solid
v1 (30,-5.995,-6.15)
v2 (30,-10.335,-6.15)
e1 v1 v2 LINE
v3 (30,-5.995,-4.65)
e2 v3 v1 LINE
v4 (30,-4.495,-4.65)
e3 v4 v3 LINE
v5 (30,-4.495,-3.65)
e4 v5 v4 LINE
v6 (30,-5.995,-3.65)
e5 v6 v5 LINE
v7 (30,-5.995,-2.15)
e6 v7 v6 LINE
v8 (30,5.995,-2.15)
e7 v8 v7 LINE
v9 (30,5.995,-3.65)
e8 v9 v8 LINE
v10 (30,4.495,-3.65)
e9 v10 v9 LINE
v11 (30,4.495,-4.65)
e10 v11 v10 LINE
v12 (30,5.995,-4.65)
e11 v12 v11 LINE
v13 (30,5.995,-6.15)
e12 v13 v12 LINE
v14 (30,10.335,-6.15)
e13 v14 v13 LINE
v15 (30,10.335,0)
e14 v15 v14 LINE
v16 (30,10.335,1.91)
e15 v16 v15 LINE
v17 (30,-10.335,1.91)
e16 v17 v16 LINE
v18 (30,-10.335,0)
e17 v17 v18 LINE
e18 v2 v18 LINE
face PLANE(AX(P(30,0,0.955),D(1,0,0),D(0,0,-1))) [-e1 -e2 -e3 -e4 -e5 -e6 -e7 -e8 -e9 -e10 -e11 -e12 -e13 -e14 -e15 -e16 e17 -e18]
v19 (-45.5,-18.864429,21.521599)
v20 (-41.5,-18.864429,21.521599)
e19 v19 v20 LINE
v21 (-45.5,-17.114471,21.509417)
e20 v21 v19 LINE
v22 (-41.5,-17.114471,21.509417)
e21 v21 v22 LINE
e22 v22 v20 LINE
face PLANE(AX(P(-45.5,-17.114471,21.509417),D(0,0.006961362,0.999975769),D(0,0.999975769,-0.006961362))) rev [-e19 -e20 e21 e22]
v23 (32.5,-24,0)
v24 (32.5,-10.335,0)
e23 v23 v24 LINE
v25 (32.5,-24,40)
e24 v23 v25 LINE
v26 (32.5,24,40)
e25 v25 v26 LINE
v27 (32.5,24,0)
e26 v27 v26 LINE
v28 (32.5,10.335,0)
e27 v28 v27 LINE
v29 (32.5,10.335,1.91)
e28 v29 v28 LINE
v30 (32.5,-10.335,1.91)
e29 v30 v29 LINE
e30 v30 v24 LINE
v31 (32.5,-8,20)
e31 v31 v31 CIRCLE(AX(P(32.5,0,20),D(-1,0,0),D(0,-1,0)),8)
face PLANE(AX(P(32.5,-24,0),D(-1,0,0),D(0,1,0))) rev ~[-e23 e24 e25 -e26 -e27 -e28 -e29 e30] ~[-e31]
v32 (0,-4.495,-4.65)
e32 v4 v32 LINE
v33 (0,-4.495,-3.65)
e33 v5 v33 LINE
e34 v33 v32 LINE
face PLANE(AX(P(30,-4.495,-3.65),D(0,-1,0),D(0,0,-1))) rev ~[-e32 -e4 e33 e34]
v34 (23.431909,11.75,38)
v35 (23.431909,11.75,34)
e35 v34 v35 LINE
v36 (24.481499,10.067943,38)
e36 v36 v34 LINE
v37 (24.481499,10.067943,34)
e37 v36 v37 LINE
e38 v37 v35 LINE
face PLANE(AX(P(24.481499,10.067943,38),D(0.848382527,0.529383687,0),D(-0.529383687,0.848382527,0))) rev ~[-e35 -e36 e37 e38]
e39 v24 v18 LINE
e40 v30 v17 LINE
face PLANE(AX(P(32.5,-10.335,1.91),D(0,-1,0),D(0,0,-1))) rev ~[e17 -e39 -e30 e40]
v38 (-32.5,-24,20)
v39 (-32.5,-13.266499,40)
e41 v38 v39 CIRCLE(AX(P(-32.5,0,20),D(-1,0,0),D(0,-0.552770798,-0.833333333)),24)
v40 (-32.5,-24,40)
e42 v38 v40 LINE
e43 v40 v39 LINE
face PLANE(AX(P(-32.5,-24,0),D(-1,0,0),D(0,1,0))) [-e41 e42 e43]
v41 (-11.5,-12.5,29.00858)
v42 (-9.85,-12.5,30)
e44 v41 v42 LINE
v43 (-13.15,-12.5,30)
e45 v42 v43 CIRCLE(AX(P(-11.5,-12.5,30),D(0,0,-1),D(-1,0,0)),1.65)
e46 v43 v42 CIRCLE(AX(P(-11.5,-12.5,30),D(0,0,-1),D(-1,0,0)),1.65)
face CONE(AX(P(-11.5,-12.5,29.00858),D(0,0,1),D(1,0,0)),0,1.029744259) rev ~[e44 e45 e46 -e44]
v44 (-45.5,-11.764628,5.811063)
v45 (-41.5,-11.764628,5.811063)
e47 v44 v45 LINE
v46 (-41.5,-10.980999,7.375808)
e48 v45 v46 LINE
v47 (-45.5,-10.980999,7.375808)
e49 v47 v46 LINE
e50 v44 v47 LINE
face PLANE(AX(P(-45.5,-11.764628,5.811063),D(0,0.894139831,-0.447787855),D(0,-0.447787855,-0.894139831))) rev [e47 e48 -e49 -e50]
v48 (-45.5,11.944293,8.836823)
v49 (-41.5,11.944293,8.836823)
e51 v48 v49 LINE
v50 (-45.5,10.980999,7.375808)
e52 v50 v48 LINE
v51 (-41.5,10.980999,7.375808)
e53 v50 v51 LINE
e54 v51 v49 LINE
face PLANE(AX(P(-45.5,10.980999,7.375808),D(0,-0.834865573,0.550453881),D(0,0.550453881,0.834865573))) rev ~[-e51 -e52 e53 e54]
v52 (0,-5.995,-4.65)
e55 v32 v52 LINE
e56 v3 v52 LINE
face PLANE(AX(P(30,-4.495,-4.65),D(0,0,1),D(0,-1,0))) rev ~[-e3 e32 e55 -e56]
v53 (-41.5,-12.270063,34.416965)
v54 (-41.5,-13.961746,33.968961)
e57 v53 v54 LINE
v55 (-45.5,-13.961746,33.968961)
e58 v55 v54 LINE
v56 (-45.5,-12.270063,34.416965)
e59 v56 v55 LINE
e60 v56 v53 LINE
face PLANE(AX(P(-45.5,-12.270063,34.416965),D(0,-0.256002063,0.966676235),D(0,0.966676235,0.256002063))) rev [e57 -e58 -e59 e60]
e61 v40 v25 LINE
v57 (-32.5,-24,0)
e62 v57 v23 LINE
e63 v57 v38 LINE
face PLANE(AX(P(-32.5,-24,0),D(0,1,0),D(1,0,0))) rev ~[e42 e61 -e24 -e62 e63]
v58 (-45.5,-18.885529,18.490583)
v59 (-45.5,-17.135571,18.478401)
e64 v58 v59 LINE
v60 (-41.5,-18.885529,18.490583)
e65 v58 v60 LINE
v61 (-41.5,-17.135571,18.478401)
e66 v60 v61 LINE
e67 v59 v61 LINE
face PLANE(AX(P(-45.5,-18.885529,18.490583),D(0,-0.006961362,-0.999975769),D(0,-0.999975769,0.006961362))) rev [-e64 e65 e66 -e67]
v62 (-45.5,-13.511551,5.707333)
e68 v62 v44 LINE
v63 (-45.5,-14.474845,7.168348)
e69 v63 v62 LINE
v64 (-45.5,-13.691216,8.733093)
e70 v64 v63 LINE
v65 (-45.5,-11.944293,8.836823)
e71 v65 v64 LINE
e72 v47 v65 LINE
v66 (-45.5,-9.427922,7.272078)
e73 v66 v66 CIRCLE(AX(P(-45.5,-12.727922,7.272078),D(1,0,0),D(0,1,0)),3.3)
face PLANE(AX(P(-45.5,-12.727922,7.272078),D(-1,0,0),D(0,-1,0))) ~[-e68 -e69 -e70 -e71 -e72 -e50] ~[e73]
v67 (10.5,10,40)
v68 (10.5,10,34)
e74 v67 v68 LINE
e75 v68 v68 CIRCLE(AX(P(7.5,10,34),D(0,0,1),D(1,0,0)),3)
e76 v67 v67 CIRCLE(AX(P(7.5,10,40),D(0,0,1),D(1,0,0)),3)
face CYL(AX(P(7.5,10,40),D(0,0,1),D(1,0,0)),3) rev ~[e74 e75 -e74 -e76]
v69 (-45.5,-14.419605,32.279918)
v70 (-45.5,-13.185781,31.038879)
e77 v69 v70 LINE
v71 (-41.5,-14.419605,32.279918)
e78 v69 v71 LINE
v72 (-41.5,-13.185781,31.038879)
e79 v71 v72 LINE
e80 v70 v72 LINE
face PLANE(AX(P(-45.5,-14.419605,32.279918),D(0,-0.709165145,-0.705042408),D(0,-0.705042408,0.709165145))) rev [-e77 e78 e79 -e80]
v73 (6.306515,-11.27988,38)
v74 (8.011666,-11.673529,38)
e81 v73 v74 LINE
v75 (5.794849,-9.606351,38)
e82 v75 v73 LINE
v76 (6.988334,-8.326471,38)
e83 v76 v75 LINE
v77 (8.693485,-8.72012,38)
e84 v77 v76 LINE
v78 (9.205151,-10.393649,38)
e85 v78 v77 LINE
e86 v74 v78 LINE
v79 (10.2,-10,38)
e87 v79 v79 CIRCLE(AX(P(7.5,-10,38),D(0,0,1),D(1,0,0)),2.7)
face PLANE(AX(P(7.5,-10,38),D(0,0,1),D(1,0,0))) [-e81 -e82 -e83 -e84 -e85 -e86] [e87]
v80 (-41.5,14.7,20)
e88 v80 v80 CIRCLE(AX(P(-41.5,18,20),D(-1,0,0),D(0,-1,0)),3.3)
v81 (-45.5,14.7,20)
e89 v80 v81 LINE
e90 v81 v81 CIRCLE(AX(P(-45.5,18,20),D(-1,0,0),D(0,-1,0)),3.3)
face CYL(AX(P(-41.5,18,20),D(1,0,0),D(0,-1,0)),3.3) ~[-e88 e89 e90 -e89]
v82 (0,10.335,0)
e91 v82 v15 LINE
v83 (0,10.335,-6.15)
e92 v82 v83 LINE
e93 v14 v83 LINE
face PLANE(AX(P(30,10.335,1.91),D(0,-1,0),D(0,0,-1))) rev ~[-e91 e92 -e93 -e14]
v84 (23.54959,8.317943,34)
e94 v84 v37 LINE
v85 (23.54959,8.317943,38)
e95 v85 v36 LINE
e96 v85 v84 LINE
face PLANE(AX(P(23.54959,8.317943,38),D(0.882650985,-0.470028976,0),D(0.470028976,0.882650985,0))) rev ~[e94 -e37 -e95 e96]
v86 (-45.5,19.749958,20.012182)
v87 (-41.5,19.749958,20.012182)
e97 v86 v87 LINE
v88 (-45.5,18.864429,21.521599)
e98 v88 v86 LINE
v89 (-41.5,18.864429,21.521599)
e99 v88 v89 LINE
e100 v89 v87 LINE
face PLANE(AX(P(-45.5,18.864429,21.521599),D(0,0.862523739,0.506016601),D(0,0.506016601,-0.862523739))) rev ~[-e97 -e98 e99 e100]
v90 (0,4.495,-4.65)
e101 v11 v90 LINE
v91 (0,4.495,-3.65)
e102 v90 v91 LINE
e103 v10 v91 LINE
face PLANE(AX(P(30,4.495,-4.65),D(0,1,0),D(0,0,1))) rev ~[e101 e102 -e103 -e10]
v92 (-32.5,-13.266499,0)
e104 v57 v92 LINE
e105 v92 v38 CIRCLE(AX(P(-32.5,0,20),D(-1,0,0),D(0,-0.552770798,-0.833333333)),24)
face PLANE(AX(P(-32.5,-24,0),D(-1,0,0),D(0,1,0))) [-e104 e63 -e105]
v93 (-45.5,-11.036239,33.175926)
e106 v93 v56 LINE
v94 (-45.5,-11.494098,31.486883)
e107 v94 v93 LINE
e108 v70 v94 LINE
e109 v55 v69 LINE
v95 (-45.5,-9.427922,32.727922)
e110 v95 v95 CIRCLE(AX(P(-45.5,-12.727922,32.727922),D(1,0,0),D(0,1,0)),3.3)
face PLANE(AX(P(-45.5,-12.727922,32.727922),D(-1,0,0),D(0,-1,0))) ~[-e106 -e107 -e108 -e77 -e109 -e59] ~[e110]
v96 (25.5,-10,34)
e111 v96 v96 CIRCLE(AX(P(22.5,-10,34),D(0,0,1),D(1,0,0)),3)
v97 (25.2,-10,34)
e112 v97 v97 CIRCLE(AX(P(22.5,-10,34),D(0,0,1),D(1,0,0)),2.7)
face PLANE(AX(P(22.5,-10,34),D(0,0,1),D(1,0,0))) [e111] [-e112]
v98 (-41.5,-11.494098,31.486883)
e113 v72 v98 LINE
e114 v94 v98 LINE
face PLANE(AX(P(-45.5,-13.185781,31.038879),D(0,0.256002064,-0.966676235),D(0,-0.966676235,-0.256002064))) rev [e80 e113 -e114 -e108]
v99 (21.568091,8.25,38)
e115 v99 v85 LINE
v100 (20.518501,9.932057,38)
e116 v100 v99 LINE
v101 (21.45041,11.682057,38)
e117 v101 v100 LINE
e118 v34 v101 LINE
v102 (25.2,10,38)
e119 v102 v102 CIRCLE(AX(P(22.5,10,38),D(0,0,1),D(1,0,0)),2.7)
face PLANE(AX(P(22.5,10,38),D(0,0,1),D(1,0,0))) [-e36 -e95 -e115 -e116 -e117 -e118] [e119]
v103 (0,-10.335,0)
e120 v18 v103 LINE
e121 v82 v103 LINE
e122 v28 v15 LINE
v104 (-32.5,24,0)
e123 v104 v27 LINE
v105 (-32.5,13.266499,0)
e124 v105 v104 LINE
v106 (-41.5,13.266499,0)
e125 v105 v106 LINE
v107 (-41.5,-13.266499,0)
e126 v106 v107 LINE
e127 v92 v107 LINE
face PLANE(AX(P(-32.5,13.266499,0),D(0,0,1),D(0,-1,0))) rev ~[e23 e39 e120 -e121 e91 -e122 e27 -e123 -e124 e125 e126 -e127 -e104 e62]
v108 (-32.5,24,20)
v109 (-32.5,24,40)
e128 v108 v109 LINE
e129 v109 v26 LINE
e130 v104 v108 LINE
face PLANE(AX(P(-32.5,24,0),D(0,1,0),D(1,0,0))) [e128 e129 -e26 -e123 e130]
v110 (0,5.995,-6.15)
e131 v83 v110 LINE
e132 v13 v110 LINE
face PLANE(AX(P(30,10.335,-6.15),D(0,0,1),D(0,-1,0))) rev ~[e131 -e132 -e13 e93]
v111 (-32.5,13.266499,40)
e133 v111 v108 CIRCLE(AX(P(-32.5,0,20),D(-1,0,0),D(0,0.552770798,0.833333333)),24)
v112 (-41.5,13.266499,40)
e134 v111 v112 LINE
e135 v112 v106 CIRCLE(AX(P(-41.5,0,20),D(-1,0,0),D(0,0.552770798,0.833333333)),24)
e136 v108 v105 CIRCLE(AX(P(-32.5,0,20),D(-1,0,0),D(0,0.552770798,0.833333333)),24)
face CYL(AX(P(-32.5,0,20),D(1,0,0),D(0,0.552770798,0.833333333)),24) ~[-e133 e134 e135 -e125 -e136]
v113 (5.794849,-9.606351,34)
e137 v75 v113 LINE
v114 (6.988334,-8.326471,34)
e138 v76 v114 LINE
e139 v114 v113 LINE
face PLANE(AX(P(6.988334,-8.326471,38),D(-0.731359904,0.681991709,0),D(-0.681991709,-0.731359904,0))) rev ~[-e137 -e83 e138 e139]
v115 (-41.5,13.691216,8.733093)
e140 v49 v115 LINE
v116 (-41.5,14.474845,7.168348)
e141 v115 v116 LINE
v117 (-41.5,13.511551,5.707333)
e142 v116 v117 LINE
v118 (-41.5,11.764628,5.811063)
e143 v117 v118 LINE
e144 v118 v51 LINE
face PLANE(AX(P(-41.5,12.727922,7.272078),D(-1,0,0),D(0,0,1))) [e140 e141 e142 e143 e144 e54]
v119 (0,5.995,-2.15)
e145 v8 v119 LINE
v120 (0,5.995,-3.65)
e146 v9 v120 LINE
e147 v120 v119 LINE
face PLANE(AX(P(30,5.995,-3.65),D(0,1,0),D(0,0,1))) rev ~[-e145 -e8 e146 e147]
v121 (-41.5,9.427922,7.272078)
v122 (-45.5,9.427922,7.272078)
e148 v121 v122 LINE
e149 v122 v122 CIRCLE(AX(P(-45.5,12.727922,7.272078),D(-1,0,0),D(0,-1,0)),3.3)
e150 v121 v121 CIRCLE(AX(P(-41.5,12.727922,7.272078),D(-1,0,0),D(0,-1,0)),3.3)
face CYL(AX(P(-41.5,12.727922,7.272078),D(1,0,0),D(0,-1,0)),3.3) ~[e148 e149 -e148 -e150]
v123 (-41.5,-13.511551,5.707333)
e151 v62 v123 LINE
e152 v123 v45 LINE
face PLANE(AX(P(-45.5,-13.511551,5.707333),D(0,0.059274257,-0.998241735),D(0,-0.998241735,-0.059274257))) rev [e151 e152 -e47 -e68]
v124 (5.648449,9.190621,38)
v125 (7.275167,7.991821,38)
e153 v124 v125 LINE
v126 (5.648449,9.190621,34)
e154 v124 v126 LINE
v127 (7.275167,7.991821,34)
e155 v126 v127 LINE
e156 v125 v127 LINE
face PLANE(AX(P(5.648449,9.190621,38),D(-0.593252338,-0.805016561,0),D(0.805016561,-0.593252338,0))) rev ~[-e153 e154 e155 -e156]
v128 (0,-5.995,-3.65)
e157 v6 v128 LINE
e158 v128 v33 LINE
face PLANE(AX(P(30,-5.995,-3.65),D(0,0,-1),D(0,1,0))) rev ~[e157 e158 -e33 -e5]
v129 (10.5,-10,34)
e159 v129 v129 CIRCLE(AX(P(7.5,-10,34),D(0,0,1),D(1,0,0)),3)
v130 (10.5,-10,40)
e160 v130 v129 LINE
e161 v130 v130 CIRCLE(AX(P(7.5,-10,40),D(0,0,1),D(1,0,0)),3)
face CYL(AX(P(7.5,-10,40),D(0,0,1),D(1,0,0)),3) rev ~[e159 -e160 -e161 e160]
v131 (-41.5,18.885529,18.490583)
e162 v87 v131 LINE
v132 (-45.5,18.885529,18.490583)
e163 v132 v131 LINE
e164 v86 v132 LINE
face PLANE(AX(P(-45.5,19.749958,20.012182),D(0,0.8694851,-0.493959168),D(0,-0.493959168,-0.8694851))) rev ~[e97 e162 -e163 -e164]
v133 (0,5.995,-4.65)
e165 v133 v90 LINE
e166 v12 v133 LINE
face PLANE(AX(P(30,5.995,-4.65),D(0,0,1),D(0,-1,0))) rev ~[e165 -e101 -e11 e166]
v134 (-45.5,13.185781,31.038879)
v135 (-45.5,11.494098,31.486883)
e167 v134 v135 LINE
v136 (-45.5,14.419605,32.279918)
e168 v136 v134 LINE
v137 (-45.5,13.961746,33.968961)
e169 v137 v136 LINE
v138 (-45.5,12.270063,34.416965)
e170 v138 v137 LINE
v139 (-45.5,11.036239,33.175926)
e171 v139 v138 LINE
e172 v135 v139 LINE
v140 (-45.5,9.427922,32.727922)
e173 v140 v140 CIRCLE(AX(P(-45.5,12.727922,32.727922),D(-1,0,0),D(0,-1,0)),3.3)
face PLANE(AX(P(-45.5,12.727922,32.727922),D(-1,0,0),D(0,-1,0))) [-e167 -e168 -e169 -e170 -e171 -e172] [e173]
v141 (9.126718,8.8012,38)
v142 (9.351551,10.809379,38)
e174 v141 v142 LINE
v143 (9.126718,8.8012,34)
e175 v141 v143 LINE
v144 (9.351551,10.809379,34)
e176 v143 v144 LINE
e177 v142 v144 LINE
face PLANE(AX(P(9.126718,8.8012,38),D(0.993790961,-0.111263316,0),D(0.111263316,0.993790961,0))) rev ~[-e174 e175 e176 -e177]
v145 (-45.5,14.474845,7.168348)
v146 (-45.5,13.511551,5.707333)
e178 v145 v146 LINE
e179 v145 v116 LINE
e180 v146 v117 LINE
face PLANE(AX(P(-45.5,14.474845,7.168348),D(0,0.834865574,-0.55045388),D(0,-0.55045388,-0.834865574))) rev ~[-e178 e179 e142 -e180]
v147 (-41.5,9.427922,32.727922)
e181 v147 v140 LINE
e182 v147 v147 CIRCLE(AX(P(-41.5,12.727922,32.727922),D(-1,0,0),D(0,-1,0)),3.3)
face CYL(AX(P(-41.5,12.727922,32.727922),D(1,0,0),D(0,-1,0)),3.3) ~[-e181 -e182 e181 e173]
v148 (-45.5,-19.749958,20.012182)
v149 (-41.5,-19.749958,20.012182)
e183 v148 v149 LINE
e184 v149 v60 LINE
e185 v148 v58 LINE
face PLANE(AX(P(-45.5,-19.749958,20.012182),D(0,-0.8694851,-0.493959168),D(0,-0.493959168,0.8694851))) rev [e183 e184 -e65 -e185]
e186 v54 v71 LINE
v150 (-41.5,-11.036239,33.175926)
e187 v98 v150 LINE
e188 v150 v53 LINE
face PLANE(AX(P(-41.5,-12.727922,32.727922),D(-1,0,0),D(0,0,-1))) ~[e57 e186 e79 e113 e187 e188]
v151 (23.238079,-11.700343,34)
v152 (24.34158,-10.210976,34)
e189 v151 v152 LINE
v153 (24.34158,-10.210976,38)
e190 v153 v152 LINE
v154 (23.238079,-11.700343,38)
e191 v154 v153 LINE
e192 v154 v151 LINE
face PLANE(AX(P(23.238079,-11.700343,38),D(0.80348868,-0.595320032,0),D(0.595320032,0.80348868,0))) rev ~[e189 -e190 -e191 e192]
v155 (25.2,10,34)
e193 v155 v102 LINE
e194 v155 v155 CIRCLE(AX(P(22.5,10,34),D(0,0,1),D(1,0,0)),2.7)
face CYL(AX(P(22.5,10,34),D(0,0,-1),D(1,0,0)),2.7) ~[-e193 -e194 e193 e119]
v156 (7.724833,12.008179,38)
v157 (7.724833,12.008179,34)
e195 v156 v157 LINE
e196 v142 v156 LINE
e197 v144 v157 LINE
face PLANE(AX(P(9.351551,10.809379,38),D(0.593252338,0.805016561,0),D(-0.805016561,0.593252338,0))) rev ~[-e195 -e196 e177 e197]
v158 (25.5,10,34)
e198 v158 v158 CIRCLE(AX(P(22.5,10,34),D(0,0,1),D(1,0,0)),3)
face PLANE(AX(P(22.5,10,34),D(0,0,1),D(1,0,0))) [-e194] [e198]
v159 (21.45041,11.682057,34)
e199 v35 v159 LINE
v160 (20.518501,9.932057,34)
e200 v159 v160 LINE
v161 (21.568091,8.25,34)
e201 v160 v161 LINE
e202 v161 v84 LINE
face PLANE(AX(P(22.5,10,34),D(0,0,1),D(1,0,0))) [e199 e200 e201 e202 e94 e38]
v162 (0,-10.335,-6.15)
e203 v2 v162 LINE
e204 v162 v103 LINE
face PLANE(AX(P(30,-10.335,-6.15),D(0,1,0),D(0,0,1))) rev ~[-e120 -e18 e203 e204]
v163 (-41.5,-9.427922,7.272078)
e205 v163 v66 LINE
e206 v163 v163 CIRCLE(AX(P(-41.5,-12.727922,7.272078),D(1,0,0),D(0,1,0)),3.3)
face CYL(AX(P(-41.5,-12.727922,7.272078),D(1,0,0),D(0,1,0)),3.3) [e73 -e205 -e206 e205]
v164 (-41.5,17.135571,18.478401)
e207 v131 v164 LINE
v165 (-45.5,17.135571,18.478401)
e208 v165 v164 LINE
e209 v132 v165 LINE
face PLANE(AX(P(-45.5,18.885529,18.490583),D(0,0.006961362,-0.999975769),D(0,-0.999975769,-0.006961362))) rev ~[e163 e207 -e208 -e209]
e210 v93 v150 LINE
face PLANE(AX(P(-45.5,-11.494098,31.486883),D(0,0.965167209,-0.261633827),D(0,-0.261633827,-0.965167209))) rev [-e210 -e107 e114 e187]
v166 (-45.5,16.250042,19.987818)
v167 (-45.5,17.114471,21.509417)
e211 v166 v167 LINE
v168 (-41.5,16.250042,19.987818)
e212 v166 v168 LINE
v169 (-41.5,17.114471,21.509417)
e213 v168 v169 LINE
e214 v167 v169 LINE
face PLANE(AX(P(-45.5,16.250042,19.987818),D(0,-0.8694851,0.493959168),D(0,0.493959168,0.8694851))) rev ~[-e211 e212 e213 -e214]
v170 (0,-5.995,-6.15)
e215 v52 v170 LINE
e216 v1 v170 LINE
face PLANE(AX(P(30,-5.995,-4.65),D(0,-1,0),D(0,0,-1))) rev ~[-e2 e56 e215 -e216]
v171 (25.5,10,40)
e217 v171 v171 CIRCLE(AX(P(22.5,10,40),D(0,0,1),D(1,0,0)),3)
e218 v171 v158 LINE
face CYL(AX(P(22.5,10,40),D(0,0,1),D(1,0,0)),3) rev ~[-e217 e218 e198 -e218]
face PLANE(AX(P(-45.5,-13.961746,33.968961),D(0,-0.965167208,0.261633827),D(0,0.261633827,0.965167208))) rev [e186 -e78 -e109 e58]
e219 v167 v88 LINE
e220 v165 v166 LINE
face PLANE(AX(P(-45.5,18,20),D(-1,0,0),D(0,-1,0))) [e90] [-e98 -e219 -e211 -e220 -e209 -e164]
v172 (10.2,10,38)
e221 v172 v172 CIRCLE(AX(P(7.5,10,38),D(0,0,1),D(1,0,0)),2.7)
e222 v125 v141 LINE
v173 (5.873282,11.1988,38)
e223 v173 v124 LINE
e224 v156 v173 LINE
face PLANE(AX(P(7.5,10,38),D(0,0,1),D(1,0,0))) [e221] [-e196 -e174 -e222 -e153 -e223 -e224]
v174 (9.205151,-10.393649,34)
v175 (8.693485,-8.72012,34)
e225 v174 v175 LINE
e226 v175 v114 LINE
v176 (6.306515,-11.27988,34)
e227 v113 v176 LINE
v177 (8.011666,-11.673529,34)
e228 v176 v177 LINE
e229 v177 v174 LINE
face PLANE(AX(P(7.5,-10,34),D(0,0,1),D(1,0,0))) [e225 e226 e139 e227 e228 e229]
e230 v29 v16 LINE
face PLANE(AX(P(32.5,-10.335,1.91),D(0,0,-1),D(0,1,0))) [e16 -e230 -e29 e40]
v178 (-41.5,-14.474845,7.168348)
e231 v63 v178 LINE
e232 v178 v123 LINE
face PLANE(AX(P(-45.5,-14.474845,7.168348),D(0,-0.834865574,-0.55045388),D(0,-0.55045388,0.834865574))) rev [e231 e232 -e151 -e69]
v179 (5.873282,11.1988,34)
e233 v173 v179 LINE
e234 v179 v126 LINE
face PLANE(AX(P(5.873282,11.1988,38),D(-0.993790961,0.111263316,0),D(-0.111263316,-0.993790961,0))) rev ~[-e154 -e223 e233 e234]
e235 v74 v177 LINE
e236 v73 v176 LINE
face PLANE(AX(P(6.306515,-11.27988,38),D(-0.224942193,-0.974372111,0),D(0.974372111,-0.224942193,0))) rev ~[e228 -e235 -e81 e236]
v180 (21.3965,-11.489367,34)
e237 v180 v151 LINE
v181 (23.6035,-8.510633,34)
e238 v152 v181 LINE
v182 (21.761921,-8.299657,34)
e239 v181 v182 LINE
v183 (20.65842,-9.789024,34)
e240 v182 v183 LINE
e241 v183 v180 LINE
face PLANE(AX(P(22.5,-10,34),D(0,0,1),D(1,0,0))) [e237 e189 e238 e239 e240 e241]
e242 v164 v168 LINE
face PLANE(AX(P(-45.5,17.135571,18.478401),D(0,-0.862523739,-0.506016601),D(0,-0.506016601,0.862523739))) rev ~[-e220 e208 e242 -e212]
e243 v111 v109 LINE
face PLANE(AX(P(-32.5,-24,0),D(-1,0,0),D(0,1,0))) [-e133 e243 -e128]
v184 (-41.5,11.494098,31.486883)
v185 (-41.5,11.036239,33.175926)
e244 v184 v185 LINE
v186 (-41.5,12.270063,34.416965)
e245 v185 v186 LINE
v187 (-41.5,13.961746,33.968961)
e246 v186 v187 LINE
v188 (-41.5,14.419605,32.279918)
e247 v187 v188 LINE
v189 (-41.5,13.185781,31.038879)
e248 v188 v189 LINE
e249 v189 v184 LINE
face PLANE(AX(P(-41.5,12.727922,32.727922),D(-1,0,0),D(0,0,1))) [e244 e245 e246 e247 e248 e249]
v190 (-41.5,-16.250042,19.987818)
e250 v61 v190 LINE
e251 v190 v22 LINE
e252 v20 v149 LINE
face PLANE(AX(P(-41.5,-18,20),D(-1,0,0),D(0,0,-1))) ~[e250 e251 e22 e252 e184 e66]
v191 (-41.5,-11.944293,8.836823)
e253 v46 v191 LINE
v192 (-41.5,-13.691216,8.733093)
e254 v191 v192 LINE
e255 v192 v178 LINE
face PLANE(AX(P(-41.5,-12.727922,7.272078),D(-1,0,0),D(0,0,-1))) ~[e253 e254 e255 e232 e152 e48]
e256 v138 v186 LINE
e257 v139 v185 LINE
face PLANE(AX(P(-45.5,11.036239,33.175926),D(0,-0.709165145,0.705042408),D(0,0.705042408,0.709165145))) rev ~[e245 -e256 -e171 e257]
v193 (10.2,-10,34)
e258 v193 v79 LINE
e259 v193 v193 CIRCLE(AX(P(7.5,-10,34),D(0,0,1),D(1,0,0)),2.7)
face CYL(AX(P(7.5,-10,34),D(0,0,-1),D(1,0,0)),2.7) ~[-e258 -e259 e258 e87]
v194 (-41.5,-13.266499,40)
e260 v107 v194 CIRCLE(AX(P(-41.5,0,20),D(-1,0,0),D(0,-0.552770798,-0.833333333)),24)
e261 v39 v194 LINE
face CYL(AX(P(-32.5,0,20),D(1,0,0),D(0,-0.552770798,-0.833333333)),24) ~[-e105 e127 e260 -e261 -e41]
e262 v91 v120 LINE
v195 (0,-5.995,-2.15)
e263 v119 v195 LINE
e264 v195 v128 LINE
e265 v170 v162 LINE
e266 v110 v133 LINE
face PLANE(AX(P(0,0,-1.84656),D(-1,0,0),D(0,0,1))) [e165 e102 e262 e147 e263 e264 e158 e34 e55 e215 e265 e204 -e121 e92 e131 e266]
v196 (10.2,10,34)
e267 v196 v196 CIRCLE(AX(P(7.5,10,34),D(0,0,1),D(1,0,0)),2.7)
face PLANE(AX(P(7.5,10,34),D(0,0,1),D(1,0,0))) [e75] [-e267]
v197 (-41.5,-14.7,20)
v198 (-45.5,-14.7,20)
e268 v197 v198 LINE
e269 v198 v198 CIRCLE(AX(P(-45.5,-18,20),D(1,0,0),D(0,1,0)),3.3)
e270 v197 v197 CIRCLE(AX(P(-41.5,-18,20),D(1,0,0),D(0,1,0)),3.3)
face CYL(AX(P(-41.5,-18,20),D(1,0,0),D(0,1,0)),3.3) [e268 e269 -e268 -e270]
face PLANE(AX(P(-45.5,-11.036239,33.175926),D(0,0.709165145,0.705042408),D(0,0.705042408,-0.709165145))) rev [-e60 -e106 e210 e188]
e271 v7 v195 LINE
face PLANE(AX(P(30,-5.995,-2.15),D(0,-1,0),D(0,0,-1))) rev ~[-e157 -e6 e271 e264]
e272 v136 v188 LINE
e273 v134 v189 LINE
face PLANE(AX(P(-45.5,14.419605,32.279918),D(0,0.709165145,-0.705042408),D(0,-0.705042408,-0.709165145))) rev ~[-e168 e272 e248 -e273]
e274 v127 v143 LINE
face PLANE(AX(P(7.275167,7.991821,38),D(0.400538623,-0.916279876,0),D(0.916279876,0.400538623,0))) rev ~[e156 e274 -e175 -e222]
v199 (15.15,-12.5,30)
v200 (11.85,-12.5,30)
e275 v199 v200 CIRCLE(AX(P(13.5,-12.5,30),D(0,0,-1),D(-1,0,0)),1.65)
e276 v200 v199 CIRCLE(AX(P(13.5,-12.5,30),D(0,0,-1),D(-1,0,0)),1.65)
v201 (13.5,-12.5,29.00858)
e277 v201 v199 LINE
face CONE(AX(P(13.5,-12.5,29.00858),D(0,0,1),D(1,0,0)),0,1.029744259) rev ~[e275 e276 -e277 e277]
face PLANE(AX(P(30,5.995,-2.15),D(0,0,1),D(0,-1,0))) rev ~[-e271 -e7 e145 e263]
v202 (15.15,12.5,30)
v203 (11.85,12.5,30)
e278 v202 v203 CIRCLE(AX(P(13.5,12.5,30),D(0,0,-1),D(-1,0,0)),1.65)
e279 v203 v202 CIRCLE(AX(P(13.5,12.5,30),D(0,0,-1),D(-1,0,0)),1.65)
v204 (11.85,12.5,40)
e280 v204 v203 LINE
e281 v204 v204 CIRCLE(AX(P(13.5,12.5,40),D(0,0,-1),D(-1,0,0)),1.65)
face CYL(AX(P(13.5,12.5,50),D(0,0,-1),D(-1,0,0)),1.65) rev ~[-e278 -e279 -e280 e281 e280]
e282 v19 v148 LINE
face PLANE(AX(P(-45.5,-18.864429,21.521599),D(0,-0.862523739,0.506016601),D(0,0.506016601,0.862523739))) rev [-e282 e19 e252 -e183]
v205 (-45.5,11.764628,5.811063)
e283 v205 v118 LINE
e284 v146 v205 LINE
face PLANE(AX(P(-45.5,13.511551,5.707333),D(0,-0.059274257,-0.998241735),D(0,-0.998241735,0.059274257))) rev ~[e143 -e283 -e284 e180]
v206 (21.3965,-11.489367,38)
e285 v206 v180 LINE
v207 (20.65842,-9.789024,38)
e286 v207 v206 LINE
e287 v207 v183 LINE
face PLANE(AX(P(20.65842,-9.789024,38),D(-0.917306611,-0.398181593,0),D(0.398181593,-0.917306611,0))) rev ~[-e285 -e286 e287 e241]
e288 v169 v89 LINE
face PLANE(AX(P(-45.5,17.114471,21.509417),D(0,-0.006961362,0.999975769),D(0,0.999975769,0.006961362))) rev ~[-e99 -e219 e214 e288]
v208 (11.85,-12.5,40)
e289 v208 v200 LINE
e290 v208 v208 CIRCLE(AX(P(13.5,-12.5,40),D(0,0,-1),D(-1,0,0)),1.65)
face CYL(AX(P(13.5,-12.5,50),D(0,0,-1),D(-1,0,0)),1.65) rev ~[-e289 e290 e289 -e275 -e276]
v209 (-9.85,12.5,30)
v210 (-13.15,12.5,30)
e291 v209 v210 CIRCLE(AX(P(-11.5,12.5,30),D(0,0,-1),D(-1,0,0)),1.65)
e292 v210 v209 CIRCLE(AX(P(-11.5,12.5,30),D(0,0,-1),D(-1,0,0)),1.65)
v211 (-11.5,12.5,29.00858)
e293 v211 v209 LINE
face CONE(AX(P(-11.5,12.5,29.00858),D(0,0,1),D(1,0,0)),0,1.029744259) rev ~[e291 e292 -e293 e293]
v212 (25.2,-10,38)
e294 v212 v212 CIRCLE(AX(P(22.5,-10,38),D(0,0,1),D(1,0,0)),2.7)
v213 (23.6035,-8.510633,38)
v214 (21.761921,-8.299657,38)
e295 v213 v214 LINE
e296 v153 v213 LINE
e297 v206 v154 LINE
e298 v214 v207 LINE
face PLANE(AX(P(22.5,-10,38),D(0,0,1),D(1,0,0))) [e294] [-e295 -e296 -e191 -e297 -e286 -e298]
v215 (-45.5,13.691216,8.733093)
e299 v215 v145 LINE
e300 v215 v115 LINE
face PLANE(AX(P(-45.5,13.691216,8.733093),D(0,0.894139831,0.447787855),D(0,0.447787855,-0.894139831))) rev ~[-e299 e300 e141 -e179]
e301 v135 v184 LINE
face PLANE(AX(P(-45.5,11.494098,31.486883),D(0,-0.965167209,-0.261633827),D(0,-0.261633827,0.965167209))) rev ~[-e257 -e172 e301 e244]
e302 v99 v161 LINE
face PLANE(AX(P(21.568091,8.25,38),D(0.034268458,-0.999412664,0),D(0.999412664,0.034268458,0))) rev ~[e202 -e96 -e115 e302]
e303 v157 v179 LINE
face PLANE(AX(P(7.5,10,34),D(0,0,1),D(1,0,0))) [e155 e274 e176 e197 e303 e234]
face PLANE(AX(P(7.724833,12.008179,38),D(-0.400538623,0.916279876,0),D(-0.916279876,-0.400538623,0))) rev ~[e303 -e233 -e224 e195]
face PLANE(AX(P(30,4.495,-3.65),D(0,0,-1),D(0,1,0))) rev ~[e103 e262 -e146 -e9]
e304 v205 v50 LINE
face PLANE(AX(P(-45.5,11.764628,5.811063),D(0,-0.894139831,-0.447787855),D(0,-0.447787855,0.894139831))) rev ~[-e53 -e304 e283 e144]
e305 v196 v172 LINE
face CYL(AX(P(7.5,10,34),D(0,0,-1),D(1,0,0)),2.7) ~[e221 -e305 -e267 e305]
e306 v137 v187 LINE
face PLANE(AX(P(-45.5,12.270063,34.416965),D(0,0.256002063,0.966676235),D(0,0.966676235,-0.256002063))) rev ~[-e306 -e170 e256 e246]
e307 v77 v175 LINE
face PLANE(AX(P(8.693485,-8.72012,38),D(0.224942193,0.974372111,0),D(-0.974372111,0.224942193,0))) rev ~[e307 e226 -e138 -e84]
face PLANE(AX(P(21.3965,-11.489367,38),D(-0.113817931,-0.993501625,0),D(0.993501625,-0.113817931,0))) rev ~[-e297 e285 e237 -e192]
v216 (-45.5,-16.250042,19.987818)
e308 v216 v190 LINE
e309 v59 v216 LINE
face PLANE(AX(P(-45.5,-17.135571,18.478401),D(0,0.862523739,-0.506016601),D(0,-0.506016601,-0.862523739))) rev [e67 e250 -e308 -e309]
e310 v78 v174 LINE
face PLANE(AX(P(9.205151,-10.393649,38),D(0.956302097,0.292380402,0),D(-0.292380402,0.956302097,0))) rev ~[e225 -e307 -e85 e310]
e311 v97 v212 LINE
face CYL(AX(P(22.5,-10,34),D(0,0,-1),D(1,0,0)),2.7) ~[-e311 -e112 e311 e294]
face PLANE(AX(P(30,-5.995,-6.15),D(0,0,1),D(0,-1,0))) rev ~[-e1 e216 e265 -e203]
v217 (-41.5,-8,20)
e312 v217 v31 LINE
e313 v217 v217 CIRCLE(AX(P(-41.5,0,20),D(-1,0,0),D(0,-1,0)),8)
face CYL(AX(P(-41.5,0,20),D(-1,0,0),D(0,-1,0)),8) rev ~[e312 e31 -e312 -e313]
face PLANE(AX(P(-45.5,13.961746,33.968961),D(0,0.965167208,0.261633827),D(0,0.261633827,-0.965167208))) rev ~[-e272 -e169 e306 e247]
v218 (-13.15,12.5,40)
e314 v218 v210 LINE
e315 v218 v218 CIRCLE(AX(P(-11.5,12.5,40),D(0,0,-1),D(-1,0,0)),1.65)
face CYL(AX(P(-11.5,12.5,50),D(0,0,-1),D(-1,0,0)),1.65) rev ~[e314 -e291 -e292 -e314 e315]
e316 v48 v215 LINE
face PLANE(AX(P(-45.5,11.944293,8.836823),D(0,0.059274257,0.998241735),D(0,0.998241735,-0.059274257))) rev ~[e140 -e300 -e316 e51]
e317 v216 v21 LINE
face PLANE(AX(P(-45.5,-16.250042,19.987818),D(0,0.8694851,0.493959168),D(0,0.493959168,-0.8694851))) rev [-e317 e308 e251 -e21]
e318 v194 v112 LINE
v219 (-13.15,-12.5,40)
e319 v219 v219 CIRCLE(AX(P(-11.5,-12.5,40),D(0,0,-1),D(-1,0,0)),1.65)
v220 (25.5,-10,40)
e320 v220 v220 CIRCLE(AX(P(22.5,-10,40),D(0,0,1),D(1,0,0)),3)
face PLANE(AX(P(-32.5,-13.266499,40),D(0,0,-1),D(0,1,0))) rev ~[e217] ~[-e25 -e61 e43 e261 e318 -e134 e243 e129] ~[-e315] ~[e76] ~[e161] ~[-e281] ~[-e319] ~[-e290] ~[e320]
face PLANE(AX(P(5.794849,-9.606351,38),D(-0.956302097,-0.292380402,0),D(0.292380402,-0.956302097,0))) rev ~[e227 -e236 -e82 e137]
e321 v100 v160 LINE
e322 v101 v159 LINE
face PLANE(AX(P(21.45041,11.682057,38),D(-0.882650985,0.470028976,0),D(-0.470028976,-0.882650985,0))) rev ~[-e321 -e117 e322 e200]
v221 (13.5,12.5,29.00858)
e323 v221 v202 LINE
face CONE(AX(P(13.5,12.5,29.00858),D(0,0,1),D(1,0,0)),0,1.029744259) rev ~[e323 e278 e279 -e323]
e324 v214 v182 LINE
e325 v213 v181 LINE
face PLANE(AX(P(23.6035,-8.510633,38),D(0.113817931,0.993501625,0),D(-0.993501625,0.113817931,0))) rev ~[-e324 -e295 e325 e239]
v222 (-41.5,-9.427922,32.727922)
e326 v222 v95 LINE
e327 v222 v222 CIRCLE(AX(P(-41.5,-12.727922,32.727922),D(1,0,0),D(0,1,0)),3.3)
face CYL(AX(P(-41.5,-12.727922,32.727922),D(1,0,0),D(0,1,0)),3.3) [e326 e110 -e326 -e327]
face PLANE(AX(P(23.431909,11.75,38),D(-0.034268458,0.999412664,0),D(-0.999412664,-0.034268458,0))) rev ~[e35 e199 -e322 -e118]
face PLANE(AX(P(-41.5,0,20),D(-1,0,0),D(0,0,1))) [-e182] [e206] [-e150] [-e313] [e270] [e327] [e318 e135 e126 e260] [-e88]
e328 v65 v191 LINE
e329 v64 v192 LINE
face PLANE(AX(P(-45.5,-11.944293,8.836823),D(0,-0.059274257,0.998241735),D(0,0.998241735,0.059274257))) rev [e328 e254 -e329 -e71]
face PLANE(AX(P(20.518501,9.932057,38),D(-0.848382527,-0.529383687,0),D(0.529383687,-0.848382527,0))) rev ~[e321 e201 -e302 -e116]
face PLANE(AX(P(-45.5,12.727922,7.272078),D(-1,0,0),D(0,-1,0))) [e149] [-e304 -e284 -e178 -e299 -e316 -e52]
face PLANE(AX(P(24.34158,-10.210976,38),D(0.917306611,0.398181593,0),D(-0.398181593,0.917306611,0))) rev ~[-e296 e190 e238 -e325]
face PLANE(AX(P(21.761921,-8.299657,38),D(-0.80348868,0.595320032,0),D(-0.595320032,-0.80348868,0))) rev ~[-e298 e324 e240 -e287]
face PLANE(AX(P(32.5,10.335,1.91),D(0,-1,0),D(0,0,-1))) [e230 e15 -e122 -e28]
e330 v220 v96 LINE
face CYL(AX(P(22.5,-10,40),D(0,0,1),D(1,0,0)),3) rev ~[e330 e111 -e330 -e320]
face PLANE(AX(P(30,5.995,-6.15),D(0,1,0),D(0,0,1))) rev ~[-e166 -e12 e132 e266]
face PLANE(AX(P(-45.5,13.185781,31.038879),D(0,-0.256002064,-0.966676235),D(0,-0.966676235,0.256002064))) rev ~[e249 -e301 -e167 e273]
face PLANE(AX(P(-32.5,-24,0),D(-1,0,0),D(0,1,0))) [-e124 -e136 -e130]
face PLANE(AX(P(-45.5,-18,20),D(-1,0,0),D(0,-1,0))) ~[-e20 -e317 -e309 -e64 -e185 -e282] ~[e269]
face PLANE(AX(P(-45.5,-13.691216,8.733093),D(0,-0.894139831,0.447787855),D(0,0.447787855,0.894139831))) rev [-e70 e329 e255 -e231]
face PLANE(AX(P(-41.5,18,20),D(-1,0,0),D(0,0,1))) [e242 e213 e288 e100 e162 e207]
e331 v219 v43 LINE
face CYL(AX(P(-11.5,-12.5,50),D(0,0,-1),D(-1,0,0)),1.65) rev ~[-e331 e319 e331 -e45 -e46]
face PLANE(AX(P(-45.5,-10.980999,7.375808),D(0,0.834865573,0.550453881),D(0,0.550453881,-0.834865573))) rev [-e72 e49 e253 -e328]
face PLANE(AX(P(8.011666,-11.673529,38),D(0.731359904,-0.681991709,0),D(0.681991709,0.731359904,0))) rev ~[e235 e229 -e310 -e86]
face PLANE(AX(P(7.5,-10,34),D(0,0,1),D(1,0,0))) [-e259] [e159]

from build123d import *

# Parameters (mm, degrees)
SKETCH_1_W                  = 65
SKETCH_1_H                  = 48
EXTRUDE_1_DEPTH             = 40
SKETCH_2_R                  = 3
CUT_EXTRUDE_1_DEPTH         = 6
HOLE_WIZARD_3_3_3_3_1_D     = 3.3
HOLE_WIZARD_3_3_3_3_1_DEPTH = 10
HOLE_WIZARD_3_3_3_3_1_TIP   = 0.991420021
SKETCH_5_R                  = 2.7
EXTRUDE_2_DEPTH             = 4
CUT_EXTRUDE_2_DEPTH         = 4
EXTRUDE_3_DEPTH             = 9
SKETCH_8_R                  = 3.3
EXTRUDE_4_DEPTH             = 4
CUT_EXTRUDE_3_DEPTH         = 4
SKETCH_11_R                 = 8
CUT_EXTRUDE_4_DEPTH         = 88.475710915
SKETCH_12_W                 = 1.91
SKETCH_12_H                 = 20.67
CUT_EXTRUDE_5_DEPTH         = 2.5
EXTRUDE_5_DEPTH             = 30


with BuildPart() as part:
    # 草图1 → 凸台-拉伸1 (new body)
    with BuildSketch(Plane.XY):
        Rectangle(SKETCH_1_W, SKETCH_1_H)
    extrude(amount=EXTRUDE_1_DEPTH)

    # 草图2 → 切除-拉伸1 (cut)
    with BuildSketch(Plane.XY.offset(40)):
        with Locations((22.5, 10)):
            Circle(SKETCH_2_R)
        with Locations((22.5, -10)):
            Circle(SKETCH_2_R)
        with Locations((7.5, 10)):
            Circle(SKETCH_2_R)
        with Locations((7.5, -10)):
            Circle(SKETCH_2_R)
    extrude(amount=-CUT_EXTRUDE_1_DEPTH, mode=Mode.SUBTRACT)

    # Ø3.3 (3.3) 直径孔1
    with Locations(Plane.XY.offset(40)):
        with Locations((13.5, -12.5), (-11.5, -12.5), (13.5, 12.5), (-11.5, 12.5)):
            Hole(HOLE_WIZARD_3_3_3_3_1_D / 2, depth=HOLE_WIZARD_3_3_3_3_1_DEPTH)
            with Locations((0, 0, -(HOLE_WIZARD_3_3_3_3_1_DEPTH + HOLE_WIZARD_3_3_3_3_1_TIP / 2))):  # 118° drill point
                Cone(0, HOLE_WIZARD_3_3_3_3_1_D / 2, HOLE_WIZARD_3_3_3_3_1_TIP, mode=Mode.SUBTRACT)

    # 草图5 → 凸台-拉伸2 (add)
    with BuildSketch(Plane.XY.offset(34)):
        with Locations((22.5, 10)):
            Circle(SKETCH_5_R)
        with Locations((7.5, 10)):
            Circle(SKETCH_5_R)
        with Locations((7.5, -10)):
            Circle(SKETCH_5_R)
        with Locations((22.5, -10)):
            Circle(SKETCH_5_R)
    extrude(amount=EXTRUDE_2_DEPTH)

    # 草图6 → 切除-拉伸2 (cut)
    with BuildSketch(Plane.XY.offset(38)):
        Polygon((24.341579714, -10.210975793), (23.603500253, -8.510633081), (21.761920539, -8.299657288), (20.658420286, -9.789024207), (21.396499747, -11.489366919), (23.238079461, -11.700342712), align=None)
        Polygon((5.794848806, -9.606351162), (6.30651451, -11.279879832), (8.011665703, -11.67352867), (9.205151194, -10.393648838), (8.69348549, -8.720120168), (6.988334297, -8.32647133), align=None)
        Polygon((21.45041022, 11.682057174), (20.518500867, 9.932057174), (21.568090646, 8.25), (23.54958978, 8.317942826), (24.481499133, 10.067942826), (23.431909354, 11.75), align=None)
        Polygon((5.873282152, 11.19880039), (5.648449484, 9.190621214), (7.275167332, 7.991820824), (9.126717848, 8.80119961), (9.351550516, 10.809378786), (7.724832668, 12.008179176), align=None)
    extrude(amount=-CUT_EXTRUDE_2_DEPTH, mode=Mode.SUBTRACT)

    # 草图7 → 凸台-拉伸3 (add)
    with BuildSketch(Plane.ZY.offset(32.5)):
        with BuildLine():
            Line((0, 13.266499161), (0, -13.266499161))
            ThreePointArc((0, -13.266499161), (20, -24), (40, -13.266499161))
            Line((40, -13.266499161), (40, 13.266499161))
            ThreePointArc((40, 13.266499161), (20, 24), (0, 13.266499161))
        make_face()
    extrude(amount=EXTRUDE_3_DEPTH)

    # 草图8 → 凸台-拉伸4 (add)
    with BuildSketch(Plane.ZY.offset(41.5)):
        with Locations(Location((20, 18, 0), (0, 0, 270))):
            Circle(SKETCH_8_R)
        with Locations(Location((32.727922061, 12.727922061, 0), (0, 0, 270))):
            Circle(SKETCH_8_R)
        with Locations(Location((7.272077939, 12.727922061, 0), (0, 0, 270))):
            Circle(SKETCH_8_R)
    extrude_4 = extrude(amount=EXTRUDE_4_DEPTH)

    # 草图9 → 切除-拉伸3 (cut)
    with BuildSketch(Plane.ZY.offset(45.5)):
        Polygon((5.811063185, 11.764627771), (7.375807889, 10.980999024), (8.836822642, 11.944293315), (8.733092692, 13.691216352), (7.168347989, 14.474845098), (5.707333235, 13.511550808), align=None)
        Polygon((31.486883058, 11.494097847), (33.175925673, 11.03623865), (34.416964676, 12.270062864), (33.968961065, 13.961746275), (32.27991845, 14.419605473), (31.038879446, 13.185781259), align=None)
        Polygon((18.478401074, 17.135571455), (19.987817617, 16.250042404), (21.509416543, 17.114470949), (21.521598926, 18.864428545), (20.012182383, 19.749957596), (18.490583457, 18.885529051), align=None)
    cut_extrude_3 = extrude(amount=-CUT_EXTRUDE_3_DEPTH, mode=Mode.SUBTRACT)

    # 镜向1: 凸台-拉伸4, 切除-拉伸3 across plane
    add(extrude_4.mirror(Plane.ZX))
    add(cut_extrude_3.mirror(Plane.ZX), mode=Mode.SUBTRACT)

    # 草图11 → 切除-拉伸4 (cut, through all)
    with BuildSketch(Plane.ZY.offset(41.5)):
        with Locations(Location((20, 0, 0), (0, 0, 270))):
            Circle(SKETCH_11_R)
    extrude(amount=-CUT_EXTRUDE_4_DEPTH, mode=Mode.SUBTRACT)

    # 草图12 → 切除-拉伸5 (cut)
    with BuildSketch(Plane(origin=(32.5, 0, 0), x_dir=(0, 0, -1), z_dir=(1, 0, 0))):
        with Locations((-0.955, 0)):
            Rectangle(SKETCH_12_W, SKETCH_12_H)
    extrude(amount=-CUT_EXTRUDE_5_DEPTH, mode=Mode.SUBTRACT)

    # 草图13 → 凸台-拉伸5 (add)
    with BuildSketch(Plane(origin=(30, 0, 0), x_dir=(0, 0, -1), z_dir=(1, 0, 0))):
        Polygon((-1.91, 10.335), (6.15, 10.335), (6.15, 5.995), (4.65, 5.995), (4.65, 4.495), (3.65, 4.495), (3.65, 5.995), (2.15, 5.995), (2.15, -5.995), (3.65, -5.995), (3.65, -4.495), (4.65, -4.495), (4.65, -5.995), (6.15, -5.995), (6.15, -10.335), (-1.91, -10.335), align=None)
    extrude(amount=-EXTRUDE_5_DEPTH)


solid = part.part
